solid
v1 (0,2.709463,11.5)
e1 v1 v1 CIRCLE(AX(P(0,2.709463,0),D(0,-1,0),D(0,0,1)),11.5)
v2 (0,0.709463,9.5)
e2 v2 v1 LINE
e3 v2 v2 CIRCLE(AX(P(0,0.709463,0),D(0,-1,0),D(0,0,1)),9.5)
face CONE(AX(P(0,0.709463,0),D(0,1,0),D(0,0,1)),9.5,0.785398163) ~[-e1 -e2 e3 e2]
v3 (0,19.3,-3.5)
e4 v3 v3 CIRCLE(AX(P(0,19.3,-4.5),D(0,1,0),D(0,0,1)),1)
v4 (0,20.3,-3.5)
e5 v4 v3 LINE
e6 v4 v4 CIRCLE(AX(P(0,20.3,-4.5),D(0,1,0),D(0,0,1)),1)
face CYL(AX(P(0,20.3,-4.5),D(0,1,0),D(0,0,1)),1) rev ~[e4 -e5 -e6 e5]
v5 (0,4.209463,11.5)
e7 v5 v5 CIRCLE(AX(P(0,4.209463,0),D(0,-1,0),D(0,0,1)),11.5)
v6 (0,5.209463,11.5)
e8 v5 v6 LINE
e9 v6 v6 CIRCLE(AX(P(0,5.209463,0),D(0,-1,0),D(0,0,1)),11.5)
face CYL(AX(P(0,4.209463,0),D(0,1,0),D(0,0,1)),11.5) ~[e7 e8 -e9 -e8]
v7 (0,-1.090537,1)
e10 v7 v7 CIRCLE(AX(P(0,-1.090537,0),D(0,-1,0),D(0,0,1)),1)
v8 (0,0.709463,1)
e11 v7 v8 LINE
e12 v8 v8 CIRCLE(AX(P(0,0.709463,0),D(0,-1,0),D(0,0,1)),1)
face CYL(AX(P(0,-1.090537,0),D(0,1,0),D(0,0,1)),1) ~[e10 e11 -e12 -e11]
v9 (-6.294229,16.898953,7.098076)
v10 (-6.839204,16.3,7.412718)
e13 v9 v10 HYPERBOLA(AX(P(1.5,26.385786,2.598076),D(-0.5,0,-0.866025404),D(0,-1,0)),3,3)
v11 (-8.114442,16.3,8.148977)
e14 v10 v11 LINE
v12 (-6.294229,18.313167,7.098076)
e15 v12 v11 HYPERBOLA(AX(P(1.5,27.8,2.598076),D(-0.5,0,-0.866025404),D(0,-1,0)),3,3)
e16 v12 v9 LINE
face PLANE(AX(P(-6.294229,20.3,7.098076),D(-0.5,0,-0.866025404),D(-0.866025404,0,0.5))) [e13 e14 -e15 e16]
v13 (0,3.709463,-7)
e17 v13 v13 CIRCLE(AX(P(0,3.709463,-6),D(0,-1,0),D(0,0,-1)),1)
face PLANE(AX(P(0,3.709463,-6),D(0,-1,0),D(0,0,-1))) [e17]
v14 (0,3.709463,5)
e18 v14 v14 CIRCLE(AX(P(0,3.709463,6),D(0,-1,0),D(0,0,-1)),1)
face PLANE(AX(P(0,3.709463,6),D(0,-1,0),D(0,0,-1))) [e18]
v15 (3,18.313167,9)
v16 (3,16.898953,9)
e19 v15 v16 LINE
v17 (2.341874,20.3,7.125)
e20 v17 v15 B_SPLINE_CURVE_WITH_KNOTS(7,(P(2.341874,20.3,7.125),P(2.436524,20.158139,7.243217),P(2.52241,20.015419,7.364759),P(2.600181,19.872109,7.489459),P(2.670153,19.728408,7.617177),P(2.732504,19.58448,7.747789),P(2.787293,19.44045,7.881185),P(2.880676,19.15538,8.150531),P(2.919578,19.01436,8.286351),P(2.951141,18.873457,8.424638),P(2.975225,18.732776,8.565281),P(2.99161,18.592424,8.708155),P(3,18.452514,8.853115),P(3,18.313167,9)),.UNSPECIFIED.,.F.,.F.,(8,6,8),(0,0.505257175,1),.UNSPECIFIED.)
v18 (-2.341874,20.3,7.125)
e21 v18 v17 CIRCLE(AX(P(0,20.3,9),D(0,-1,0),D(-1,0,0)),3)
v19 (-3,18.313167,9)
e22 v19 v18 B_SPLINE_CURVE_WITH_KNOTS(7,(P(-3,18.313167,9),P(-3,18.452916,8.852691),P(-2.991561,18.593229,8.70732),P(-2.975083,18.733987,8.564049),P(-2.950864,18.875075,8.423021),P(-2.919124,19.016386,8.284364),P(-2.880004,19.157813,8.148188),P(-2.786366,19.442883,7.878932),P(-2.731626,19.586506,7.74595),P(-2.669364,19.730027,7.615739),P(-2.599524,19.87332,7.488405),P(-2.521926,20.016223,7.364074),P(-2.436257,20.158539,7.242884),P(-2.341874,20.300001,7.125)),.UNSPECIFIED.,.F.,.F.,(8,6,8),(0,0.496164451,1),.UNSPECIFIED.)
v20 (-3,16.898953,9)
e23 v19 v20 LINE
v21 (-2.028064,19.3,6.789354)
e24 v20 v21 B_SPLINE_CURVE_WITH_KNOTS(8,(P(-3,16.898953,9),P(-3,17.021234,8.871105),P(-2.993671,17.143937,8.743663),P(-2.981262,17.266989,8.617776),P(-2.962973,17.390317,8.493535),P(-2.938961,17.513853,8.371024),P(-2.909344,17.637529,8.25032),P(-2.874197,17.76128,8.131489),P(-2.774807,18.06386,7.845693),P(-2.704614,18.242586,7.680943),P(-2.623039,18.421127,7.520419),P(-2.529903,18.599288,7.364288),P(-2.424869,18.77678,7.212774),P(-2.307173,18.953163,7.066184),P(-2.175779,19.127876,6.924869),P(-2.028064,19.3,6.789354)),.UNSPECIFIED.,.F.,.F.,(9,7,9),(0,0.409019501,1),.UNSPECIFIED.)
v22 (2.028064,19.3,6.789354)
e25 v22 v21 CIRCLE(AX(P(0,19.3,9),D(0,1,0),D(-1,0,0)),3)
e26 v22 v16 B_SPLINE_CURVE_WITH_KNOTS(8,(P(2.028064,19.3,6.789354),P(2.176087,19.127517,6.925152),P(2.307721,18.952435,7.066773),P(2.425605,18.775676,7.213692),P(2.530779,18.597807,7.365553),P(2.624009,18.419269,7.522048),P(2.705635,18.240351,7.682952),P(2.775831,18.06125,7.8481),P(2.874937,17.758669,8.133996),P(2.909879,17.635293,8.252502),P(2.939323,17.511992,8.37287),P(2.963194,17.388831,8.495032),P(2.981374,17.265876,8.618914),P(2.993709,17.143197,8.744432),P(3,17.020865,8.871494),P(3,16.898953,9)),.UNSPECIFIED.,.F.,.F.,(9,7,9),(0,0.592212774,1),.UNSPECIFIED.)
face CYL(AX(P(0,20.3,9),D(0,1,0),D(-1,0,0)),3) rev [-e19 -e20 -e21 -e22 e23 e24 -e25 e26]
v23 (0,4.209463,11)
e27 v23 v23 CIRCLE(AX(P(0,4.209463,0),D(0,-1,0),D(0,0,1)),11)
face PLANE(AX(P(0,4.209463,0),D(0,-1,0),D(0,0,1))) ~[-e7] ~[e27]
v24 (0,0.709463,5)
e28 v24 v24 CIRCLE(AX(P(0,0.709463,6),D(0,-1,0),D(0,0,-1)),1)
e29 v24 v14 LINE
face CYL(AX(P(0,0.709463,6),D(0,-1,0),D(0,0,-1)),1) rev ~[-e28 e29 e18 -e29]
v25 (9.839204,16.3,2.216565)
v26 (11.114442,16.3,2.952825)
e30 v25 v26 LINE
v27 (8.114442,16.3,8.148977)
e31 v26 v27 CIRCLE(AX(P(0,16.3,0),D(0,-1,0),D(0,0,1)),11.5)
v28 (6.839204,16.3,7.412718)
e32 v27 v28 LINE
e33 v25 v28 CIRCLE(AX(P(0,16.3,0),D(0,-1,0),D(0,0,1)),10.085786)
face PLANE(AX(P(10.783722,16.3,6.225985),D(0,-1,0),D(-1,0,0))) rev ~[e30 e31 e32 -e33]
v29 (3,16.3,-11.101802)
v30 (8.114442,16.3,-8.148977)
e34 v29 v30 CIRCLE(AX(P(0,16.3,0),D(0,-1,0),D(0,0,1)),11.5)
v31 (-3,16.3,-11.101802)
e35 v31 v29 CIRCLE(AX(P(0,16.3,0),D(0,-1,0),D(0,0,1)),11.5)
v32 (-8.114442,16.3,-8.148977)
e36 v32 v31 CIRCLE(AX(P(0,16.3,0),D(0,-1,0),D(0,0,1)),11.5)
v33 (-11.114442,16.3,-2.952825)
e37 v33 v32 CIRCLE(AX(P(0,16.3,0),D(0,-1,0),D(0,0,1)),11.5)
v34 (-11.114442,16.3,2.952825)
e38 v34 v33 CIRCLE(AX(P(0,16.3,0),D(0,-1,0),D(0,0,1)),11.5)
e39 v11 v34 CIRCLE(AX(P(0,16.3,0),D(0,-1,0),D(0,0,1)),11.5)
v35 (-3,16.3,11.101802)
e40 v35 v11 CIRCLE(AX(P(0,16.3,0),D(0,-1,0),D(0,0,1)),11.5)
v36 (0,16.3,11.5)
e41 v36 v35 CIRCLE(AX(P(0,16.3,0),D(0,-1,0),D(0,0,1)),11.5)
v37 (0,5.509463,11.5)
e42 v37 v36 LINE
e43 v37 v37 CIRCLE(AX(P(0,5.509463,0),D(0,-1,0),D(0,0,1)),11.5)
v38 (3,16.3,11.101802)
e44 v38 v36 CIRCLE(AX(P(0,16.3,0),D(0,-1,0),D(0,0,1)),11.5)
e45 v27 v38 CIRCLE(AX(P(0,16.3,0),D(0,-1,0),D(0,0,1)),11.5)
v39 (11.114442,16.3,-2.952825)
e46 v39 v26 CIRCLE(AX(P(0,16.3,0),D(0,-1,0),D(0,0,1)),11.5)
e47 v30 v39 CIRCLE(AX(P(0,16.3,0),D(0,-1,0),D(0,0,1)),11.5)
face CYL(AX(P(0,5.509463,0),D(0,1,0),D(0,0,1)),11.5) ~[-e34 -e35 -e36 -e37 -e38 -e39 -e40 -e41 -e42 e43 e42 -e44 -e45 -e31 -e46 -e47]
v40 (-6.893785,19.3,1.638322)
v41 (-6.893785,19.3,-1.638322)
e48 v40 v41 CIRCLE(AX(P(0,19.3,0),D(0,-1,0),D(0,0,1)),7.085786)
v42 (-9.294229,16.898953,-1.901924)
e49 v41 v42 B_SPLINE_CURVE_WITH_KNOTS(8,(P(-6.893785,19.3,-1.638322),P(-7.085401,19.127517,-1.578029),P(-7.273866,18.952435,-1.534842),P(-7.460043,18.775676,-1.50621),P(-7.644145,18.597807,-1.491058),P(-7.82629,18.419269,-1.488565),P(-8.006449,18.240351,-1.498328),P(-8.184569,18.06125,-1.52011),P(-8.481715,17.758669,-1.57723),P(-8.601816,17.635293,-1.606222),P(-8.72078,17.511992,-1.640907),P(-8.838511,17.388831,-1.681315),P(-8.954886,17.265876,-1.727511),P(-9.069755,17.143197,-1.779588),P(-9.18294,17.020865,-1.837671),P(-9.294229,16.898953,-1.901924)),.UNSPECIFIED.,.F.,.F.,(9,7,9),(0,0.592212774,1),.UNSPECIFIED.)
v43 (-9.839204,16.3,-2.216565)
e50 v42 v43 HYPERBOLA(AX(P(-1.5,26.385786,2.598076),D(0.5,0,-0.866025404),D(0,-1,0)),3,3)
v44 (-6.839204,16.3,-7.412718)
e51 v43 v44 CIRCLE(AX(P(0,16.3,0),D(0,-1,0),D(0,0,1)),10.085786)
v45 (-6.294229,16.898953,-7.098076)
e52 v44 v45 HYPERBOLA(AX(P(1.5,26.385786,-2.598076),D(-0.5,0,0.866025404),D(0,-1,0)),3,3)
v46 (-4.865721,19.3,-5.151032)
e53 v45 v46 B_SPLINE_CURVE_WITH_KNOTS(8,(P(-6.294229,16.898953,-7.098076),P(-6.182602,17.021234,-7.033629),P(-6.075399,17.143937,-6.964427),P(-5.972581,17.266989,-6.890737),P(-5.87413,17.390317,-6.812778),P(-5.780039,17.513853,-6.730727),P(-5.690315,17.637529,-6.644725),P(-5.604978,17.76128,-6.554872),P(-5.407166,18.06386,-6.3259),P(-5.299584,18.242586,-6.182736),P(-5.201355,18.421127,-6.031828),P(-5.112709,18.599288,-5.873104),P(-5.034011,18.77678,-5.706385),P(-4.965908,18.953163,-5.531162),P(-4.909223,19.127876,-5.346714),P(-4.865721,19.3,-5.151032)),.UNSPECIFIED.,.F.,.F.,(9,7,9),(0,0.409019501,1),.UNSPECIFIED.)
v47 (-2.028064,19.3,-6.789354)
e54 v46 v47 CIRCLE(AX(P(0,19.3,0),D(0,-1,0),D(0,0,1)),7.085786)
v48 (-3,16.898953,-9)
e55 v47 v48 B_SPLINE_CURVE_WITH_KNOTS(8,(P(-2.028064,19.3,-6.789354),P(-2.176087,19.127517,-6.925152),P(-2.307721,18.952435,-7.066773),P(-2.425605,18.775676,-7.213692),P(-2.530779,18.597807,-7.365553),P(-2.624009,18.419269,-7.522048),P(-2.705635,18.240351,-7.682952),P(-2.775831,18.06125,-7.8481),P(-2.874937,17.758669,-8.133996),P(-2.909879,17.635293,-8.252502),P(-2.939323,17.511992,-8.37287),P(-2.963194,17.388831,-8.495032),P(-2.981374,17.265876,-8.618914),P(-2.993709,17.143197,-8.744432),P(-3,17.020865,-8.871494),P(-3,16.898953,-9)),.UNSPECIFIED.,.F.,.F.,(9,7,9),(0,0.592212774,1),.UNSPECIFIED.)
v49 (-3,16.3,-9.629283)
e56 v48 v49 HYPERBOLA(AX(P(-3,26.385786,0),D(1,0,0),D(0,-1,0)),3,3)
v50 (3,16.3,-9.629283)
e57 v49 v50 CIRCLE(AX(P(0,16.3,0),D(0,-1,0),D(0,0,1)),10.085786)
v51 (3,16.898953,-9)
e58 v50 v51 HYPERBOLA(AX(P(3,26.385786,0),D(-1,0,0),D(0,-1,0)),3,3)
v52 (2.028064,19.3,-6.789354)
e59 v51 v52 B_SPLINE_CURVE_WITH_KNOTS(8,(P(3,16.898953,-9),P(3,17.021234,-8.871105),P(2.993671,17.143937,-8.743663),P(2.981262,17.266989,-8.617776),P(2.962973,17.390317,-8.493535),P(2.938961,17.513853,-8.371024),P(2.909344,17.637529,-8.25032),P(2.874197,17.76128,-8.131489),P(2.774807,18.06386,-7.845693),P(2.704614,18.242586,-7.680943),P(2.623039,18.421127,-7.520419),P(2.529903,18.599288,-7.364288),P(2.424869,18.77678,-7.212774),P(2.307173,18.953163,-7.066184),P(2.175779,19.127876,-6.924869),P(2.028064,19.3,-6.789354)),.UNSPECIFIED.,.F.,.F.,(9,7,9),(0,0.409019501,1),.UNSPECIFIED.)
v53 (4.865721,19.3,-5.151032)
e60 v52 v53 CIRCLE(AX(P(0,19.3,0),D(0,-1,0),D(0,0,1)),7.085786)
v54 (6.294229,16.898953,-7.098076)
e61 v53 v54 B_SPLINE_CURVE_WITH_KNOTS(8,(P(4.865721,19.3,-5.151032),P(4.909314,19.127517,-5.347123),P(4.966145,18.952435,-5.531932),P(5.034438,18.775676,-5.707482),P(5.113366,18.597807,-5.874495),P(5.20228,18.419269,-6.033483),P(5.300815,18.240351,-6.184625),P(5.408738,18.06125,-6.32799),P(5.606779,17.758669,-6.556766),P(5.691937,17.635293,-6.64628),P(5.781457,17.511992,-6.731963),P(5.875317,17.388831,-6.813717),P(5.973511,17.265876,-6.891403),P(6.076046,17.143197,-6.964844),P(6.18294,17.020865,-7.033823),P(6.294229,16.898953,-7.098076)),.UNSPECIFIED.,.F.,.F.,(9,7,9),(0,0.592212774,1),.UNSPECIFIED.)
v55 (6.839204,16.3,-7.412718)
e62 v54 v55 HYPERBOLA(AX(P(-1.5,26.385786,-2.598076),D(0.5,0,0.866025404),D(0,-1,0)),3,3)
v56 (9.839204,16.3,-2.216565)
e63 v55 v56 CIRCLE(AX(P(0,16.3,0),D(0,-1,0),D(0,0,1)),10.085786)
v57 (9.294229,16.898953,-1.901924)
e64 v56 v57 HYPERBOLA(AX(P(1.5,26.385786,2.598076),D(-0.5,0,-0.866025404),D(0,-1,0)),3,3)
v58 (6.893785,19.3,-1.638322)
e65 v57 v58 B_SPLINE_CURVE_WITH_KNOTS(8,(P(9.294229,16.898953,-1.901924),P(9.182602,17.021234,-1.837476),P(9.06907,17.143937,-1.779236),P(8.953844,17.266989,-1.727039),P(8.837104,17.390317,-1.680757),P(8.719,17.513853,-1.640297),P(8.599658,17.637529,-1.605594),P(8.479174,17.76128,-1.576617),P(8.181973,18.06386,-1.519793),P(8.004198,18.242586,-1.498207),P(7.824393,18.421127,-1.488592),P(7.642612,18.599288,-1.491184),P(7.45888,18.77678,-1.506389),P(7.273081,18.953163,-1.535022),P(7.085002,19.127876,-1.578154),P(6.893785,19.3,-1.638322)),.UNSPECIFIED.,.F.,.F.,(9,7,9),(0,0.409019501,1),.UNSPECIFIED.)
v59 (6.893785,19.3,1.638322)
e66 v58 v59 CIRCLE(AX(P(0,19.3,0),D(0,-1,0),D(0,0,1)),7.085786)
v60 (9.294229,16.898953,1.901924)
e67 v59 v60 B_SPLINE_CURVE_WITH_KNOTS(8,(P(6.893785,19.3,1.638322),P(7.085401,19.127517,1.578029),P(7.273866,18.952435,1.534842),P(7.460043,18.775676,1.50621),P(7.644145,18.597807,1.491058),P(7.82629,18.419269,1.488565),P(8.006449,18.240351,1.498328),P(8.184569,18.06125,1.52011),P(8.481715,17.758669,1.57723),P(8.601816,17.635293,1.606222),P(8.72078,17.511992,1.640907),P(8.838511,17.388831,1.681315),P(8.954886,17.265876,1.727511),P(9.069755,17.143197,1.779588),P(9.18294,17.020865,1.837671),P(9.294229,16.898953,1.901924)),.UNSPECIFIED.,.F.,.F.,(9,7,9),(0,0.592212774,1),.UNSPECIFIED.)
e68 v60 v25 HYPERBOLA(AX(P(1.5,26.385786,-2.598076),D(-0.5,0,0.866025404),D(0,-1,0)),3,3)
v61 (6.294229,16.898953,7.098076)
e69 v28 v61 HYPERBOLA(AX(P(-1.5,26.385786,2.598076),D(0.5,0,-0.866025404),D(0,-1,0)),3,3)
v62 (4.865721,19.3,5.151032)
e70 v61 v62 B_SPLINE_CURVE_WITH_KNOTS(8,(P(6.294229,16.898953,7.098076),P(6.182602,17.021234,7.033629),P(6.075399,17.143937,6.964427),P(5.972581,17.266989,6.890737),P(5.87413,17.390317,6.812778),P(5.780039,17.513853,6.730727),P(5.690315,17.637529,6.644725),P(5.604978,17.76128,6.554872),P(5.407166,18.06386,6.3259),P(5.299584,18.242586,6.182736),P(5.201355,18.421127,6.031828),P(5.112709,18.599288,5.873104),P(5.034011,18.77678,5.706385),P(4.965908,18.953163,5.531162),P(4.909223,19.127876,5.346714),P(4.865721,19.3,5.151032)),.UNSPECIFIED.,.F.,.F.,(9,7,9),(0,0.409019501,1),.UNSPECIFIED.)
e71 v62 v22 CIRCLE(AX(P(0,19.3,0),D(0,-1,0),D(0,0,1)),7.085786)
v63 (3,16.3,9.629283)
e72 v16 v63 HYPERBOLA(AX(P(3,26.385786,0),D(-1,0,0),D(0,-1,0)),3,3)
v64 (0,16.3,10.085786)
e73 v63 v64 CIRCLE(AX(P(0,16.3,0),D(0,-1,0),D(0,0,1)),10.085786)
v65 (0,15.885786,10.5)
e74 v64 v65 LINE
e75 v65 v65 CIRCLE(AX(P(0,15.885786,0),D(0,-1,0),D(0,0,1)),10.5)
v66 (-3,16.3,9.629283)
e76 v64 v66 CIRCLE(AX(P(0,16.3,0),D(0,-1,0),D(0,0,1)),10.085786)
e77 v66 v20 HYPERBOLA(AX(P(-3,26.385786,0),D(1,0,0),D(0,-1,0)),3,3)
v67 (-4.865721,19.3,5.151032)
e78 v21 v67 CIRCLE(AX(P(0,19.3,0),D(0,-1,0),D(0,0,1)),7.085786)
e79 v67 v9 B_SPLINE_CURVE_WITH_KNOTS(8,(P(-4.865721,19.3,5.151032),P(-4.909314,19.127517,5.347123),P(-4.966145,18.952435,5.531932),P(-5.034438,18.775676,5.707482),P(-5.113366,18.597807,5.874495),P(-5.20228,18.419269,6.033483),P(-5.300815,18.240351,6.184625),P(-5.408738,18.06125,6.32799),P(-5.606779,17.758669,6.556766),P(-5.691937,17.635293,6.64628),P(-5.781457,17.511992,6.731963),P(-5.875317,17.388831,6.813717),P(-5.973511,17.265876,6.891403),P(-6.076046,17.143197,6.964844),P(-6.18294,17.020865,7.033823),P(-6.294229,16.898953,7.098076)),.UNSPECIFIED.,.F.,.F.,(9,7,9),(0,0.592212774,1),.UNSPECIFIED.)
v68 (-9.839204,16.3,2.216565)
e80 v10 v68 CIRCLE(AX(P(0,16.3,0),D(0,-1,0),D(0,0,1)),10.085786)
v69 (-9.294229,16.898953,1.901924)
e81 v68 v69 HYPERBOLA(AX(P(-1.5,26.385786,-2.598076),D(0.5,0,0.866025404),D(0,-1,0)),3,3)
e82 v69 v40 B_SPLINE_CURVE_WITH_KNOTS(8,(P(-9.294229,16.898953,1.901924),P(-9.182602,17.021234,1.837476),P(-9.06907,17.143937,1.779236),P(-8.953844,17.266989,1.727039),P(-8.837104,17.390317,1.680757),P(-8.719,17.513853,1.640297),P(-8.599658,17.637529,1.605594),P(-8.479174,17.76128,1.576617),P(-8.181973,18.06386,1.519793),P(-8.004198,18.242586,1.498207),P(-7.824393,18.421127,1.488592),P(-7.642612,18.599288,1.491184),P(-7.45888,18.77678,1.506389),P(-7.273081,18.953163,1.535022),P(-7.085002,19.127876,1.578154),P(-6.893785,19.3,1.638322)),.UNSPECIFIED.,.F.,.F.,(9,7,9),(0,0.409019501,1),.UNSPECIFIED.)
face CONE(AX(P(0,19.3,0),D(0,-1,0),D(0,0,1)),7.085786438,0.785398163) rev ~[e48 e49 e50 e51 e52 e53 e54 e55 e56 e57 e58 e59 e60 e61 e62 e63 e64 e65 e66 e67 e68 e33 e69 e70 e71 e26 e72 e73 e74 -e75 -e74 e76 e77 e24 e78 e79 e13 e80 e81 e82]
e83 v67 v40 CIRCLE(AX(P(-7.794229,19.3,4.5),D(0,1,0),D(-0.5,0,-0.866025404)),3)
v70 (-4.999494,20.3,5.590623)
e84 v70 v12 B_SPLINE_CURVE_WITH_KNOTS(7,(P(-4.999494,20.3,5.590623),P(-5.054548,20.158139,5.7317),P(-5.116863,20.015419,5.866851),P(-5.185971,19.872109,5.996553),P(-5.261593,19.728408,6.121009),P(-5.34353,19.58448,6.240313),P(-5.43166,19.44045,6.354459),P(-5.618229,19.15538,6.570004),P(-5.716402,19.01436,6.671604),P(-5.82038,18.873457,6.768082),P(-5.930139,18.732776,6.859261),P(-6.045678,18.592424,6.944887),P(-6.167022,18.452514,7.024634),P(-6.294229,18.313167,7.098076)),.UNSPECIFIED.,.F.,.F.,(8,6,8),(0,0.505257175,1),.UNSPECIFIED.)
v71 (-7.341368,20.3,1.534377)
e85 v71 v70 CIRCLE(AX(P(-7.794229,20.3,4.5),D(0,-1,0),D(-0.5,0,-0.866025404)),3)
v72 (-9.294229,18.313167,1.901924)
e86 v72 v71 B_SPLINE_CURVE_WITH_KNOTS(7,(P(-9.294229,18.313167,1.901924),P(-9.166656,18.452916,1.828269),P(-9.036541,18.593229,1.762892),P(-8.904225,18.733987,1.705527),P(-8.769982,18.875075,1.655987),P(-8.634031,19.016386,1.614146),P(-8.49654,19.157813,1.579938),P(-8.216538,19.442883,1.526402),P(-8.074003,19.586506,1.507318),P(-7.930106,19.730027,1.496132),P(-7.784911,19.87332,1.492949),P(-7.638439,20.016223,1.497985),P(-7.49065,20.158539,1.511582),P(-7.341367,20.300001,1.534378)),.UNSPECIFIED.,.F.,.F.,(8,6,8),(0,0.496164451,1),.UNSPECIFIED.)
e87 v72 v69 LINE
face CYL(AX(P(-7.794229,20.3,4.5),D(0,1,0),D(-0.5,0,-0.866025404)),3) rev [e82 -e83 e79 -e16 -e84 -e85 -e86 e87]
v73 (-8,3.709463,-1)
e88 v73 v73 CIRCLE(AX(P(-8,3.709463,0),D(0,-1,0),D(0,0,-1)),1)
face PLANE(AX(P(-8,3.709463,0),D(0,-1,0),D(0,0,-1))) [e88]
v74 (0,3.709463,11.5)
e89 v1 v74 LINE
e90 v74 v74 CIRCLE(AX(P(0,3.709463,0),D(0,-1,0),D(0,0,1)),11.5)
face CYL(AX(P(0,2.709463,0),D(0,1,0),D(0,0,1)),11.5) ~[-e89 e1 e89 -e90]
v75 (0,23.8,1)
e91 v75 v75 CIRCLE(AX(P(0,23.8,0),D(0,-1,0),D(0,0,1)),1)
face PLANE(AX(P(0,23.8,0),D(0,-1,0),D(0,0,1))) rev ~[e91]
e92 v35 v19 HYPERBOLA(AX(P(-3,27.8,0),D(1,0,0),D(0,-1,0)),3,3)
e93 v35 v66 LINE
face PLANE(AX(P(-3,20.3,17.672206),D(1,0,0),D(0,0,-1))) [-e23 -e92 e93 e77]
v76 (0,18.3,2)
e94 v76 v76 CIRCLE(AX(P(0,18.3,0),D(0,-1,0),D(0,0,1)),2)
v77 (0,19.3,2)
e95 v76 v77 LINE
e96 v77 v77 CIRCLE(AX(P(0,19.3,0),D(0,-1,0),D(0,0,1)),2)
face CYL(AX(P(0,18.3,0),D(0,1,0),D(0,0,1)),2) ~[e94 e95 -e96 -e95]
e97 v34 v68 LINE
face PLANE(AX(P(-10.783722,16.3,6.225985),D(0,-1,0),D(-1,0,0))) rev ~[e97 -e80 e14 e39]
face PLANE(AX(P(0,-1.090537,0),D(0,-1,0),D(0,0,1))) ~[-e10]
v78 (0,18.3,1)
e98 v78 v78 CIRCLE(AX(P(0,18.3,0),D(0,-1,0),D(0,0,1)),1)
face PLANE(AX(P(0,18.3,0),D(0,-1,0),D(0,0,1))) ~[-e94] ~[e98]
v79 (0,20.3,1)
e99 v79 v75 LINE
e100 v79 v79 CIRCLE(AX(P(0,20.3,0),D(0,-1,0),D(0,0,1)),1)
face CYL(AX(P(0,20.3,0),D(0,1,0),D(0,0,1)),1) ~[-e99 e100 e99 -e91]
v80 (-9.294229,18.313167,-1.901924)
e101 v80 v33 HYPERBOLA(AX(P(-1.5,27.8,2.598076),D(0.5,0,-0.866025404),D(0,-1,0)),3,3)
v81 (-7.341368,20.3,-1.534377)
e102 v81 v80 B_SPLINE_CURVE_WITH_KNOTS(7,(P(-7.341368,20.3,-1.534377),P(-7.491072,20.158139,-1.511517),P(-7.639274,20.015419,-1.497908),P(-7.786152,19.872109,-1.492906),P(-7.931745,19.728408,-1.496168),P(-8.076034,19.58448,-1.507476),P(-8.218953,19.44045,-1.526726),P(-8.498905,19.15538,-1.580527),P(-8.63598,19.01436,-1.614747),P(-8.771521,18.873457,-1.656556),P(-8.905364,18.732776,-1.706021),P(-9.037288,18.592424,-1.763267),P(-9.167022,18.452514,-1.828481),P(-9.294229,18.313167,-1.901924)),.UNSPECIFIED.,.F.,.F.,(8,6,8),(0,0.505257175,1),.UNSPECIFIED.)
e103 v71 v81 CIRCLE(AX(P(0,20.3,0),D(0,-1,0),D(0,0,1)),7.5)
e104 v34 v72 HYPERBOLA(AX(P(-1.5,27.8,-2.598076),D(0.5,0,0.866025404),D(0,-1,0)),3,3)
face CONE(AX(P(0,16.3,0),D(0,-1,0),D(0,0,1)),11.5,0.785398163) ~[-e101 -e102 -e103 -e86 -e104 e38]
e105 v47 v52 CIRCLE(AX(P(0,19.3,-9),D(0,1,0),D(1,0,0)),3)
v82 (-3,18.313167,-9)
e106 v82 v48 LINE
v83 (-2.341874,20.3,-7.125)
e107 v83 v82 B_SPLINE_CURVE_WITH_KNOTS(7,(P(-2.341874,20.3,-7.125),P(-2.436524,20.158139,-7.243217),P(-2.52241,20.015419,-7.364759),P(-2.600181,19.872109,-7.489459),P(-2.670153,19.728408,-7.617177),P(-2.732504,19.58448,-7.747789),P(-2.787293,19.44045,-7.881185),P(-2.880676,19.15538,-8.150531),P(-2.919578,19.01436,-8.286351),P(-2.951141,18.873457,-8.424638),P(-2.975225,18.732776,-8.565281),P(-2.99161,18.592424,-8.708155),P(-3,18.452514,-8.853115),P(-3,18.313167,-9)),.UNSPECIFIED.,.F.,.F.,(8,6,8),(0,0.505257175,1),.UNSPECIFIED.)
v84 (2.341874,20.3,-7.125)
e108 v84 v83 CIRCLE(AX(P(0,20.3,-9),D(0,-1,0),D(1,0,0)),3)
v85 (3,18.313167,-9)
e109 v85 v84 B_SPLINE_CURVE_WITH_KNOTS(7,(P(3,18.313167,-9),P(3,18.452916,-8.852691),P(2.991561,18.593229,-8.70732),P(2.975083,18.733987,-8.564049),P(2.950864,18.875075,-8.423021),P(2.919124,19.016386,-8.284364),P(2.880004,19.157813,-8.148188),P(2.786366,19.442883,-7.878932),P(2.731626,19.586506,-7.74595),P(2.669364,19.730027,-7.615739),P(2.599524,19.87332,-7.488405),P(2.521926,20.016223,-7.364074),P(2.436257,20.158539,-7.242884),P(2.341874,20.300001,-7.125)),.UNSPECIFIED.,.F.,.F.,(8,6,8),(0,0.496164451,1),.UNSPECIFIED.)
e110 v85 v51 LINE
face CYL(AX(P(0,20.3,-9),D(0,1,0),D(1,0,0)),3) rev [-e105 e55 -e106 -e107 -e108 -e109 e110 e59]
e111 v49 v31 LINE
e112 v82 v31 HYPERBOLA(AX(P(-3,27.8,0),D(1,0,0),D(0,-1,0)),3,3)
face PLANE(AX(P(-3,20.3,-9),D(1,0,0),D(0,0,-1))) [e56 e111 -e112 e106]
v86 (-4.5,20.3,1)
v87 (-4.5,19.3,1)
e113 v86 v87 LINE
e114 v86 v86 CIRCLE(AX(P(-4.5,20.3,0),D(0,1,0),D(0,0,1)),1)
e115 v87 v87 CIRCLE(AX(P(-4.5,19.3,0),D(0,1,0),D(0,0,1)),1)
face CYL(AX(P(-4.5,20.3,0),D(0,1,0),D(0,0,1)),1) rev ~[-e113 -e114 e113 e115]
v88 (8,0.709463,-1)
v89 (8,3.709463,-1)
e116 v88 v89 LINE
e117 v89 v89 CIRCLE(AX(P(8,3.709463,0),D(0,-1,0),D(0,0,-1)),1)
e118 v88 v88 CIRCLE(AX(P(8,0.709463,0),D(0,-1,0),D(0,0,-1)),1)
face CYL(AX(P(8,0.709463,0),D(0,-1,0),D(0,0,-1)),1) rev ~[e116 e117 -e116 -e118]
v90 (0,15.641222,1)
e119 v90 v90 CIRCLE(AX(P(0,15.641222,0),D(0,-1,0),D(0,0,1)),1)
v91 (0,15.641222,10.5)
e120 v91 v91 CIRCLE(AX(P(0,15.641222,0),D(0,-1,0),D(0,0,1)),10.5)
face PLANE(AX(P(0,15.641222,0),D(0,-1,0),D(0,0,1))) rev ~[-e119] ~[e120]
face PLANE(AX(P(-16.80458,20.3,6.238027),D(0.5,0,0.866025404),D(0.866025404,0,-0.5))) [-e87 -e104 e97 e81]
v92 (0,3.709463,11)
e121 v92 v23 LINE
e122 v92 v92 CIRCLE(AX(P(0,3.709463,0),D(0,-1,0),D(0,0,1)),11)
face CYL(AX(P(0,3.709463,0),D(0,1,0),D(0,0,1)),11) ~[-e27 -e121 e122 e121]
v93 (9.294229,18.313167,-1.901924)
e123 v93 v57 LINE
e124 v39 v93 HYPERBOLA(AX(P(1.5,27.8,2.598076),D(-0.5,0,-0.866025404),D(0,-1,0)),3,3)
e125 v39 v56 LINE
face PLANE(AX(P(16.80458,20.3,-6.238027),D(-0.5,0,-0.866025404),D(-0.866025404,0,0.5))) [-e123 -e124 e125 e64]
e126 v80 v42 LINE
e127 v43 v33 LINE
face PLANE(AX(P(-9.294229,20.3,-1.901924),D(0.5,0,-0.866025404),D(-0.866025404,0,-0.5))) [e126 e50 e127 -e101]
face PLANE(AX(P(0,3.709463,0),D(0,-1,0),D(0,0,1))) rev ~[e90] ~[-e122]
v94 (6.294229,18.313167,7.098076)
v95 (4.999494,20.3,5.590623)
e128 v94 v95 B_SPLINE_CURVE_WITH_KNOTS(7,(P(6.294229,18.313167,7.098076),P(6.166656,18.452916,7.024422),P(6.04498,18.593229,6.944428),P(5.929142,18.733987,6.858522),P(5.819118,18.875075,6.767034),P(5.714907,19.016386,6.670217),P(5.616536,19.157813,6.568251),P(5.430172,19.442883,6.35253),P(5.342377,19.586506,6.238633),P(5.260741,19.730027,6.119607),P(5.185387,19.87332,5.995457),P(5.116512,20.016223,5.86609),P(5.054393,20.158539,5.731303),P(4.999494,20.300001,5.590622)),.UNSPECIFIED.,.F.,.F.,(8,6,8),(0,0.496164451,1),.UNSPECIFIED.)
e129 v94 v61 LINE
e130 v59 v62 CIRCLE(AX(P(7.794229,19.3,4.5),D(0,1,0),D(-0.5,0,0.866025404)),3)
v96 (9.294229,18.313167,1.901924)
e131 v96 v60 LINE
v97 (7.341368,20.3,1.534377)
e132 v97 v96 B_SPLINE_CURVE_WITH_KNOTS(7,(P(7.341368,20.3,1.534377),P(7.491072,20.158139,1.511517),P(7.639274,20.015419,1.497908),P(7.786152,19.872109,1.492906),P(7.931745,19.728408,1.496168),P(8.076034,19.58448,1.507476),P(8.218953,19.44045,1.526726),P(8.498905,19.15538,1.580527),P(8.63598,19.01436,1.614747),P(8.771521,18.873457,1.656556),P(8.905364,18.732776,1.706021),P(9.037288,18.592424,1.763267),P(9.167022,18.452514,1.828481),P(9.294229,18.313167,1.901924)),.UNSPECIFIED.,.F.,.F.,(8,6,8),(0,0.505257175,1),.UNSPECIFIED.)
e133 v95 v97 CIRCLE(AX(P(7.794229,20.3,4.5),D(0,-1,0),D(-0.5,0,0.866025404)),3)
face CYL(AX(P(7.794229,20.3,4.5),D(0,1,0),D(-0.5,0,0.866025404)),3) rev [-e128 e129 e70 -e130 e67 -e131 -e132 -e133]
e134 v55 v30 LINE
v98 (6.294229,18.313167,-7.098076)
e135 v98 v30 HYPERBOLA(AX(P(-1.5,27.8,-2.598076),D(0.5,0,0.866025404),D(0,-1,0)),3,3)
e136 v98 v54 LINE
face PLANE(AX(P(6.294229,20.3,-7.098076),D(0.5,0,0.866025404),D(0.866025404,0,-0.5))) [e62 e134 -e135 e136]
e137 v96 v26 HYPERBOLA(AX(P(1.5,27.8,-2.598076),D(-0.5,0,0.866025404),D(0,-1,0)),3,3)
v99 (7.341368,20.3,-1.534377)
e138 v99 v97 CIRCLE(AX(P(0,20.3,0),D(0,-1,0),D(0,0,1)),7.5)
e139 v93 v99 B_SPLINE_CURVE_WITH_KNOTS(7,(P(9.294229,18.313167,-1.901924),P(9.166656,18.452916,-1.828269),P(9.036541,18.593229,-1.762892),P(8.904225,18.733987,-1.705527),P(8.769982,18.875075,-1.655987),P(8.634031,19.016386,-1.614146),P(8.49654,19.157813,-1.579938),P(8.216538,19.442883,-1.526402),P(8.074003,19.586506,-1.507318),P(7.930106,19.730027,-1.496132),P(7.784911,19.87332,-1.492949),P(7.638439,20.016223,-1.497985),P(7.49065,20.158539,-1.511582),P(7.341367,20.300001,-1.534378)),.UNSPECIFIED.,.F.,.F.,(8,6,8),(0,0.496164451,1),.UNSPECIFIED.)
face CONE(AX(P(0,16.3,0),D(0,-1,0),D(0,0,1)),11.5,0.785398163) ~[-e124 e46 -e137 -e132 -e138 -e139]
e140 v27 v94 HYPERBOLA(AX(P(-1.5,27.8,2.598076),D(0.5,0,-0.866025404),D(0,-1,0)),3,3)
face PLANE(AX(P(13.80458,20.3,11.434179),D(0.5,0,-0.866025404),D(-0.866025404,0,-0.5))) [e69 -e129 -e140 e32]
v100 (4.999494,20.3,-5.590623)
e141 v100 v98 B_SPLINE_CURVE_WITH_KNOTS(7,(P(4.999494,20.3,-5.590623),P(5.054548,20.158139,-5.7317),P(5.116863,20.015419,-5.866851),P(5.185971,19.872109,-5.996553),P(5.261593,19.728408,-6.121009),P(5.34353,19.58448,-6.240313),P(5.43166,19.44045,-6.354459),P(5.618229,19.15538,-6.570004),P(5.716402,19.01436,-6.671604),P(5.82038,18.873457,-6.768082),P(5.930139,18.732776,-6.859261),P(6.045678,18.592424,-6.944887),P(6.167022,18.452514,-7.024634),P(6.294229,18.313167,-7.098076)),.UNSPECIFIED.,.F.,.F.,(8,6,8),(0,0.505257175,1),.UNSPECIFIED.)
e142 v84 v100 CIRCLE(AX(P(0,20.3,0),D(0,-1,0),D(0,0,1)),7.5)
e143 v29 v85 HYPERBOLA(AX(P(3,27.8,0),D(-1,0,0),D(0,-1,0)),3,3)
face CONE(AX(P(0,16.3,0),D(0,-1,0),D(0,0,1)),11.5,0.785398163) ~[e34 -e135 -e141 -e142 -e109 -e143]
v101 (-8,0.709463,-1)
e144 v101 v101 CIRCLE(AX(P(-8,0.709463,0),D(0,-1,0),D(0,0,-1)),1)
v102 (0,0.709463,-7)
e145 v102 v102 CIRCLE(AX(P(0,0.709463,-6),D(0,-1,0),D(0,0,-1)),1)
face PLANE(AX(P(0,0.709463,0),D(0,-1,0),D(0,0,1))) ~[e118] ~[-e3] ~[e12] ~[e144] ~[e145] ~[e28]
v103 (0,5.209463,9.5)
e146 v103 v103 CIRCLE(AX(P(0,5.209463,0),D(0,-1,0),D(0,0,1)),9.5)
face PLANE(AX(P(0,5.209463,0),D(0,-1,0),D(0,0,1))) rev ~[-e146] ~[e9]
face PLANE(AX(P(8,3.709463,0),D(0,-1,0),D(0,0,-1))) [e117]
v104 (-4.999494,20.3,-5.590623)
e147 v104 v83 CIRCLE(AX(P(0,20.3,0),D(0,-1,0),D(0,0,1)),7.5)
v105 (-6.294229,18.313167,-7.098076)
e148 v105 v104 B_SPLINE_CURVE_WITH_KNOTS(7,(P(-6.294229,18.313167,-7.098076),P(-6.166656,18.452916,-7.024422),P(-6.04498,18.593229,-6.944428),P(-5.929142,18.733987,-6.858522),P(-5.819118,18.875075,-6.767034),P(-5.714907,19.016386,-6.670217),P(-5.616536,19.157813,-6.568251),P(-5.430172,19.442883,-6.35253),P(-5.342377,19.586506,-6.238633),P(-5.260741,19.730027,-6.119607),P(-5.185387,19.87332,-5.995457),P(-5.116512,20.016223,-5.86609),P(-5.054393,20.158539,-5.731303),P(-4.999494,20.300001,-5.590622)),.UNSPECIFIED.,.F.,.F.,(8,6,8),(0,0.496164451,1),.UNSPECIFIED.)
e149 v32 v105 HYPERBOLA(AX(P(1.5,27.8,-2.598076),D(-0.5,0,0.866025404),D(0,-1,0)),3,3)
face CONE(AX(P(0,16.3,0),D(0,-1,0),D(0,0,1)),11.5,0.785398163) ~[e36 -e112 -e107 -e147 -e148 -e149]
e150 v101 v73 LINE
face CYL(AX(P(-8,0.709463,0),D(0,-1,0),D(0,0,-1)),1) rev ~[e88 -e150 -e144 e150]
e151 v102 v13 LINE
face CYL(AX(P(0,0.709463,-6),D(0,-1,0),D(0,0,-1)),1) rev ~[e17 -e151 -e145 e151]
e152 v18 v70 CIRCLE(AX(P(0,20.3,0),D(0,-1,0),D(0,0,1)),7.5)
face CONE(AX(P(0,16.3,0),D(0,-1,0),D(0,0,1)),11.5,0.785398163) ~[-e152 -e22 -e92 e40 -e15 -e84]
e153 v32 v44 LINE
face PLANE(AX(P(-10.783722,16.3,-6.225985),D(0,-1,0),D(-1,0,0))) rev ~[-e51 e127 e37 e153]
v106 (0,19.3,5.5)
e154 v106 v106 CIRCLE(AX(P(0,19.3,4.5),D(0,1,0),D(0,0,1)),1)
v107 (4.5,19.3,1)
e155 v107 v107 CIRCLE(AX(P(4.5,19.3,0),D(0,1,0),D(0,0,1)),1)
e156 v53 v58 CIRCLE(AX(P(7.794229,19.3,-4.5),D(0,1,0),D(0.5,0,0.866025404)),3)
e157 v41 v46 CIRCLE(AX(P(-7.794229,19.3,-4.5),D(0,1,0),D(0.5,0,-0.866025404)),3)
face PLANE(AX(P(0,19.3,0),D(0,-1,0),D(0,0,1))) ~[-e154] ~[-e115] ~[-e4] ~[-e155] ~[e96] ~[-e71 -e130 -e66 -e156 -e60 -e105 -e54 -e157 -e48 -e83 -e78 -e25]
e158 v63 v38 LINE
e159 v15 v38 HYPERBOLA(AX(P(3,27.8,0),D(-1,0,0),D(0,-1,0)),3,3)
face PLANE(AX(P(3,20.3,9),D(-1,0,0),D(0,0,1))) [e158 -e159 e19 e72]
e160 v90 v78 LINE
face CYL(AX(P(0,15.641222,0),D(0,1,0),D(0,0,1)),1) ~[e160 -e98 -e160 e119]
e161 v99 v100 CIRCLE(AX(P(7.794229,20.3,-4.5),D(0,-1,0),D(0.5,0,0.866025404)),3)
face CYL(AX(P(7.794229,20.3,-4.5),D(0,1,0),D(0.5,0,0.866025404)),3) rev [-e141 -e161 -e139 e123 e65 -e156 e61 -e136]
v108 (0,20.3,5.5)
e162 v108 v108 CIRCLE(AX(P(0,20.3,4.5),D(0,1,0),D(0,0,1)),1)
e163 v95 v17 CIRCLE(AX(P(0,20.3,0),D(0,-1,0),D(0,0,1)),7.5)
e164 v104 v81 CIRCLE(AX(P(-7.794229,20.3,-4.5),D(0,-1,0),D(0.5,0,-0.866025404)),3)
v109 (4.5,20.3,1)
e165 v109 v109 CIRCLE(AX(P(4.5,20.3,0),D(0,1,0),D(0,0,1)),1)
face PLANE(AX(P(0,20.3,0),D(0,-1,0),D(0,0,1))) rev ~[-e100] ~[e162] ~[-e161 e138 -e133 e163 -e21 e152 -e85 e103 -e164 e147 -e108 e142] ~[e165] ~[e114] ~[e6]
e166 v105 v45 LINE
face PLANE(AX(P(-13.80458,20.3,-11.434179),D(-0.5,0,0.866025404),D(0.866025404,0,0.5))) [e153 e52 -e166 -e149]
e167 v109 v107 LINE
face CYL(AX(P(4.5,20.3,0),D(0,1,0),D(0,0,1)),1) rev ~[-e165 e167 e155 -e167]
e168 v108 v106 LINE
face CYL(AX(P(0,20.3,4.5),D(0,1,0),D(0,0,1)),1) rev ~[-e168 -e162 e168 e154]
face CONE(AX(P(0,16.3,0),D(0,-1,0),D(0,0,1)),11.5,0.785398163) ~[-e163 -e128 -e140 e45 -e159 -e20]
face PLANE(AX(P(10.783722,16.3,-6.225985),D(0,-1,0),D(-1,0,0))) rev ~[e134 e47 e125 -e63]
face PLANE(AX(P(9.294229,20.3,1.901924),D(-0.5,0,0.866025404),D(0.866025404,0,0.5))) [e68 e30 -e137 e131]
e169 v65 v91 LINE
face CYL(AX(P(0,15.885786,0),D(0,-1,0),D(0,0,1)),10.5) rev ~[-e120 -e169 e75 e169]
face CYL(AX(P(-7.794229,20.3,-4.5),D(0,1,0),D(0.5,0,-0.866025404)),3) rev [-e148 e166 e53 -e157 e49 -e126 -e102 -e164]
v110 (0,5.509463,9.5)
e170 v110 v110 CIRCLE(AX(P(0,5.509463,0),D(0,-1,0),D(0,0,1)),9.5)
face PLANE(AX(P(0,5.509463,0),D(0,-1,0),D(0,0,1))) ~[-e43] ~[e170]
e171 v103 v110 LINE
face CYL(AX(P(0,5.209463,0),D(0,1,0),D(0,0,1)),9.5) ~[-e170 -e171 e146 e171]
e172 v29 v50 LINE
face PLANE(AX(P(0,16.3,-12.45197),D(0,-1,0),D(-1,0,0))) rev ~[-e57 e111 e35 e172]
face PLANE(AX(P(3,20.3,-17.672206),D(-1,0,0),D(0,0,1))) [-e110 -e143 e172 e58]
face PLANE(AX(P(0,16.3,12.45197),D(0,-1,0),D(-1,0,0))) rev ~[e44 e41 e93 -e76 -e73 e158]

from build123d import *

# Parameters (mm, degrees)
SKETCH3_R          = 1
CUT_EXTRUDE1_DEPTH = 4
SKETCH4_R          = 1
CUT_EXTRUDE2_DEPTH = 3


with BuildPart() as part:
    # Sketch2 → Revolve1 (revolve)
    with BuildSketch(Plane.XY, mode=Mode.PRIVATE) as revolve1_sk:
        Polygon((0, 23.8), (0, 0), (0, -1.090537306), (1, -1.090537306), (1, 0.709462694), (9.5, 0.709462694), (11.5, 2.709462694), (11.5, 3.709462694), (11, 3.709462694), (11, 4.209462694), (11.5, 4.209462694), (11.5, 5.209462694), (9.5, 5.209462694), (9.5, 5.509462694), (11.5, 5.509462694), (11.5, 16.3), (7.5, 20.3), (1, 20.3), (1, 23.8), align=None)
        Polygon((2, 19.3), (7.085786438, 19.3), (10.5, 15.885786438), (10.5, 15.641222404), (1, 15.641222404), (1, 18.3), (2, 18.3), align=None, mode=Mode.SUBTRACT)
    revolve(revolve1_sk.sketch.rotate(Axis((0, 23.8, 0), (0, -1, 0)), 90), axis=Axis((0, 23.8, 0), (0, -1, 0)))

    # Sketch3 → Cut-Extrude1 (cut)
    with BuildSketch(Plane(origin=(0, 20.3, 0), x_dir=(1, 0, 0), z_dir=(0, 1, 0))):
        with Locations(Location((0, -4.5, 0), (0, 0, 270))):
            Circle(SKETCH3_R)
        with Locations(Location((-4.5, 0, 0), (0, 0, 270))):
            Circle(SKETCH3_R)
        with Locations(Location((0, 4.5, 0), (0, 0, 270))):
            Circle(SKETCH3_R)
        with Locations(Location((4.5, 0, 0), (0, 0, 270))):
            Circle(SKETCH3_R)
        with BuildLine():
            Line((-3, 9), (-3, 17.672206418))
            Line((-3, 17.672206418), (3, 17.672206418))
            Line((3, 17.672206418), (3, 9))
            ThreePointArc((3, 9), (0, 6), (-3, 9))
        make_face()
        with BuildLine():
            Line((16.804579699, 6.238026998), (9.294228634, 1.901923789))
            ThreePointArc((9.294228634, 1.901923789), (5.196152423, 3), (6.294228634, 7.098076211))
            Line((6.294228634, 7.098076211), (13.804579699, 11.434179421))
            Line((13.804579699, 11.434179421), (16.804579699, 6.238026998))
        make_face()
        with BuildLine():
            Line((13.804579699, -11.434179421), (6.294228634, -7.098076211))
            ThreePointArc((6.294228634, -7.098076211), (5.196152423, -3), (9.294228634, -1.901923789))
            Line((9.294228634, -1.901923789), (16.804579699, -6.238026998))
            Line((16.804579699, -6.238026998), (13.804579699, -11.434179421))
        make_face()
        with BuildLine():
            Line((-3, -17.672206418), (-3, -9))
            ThreePointArc((-3, -9), (0, -6), (3, -9))
            Line((3, -9), (3, -17.672206418))
            Line((3, -17.672206418), (-3, -17.672206418))
        make_face()
        with BuildLine():
            Line((-16.804579699, -6.238026998), (-9.294228634, -1.901923789))
            ThreePointArc((-9.294228634, -1.901923789), (-5.196152423, -3), (-6.294228634, -7.098076211))
            Line((-6.294228634, -7.098076211), (-13.804579699, -11.434179421))
            Line((-13.804579699, -11.434179421), (-16.804579699, -6.238026998))
        make_face()
        with BuildLine():
            Line((-13.804579699, 11.434179421), (-6.294228634, 7.098076211))
            ThreePointArc((-6.294228634, 7.098076211), (-5.196152423, 3), (-9.294228634, 1.901923789))
            Line((-9.294228634, 1.901923789), (-16.804579699, 6.238026998))
            Line((-16.804579699, 6.238026998), (-13.804579699, 11.434179421))
        make_face()
    extrude(amount=-CUT_EXTRUDE1_DEPTH, mode=Mode.SUBTRACT)

    # Sketch4 → Cut-Extrude2 (cut)
    with BuildSketch(Plane.XZ.offset(-0.709462694)):
        with Locations(Location((0, 6, 0), (0, 0, 270))):
            Circle(SKETCH4_R)
        with Locations(Location((8, 0, 0), (0, 0, 270))):
            Circle(SKETCH4_R)
        with Locations(Location((0, -6, 0), (0, 0, 270))):
            Circle(SKETCH4_R)
        with Locations(Location((-8, 0, 0), (0, 0, 270))):
            Circle(SKETCH4_R)
    extrude(amount=-CUT_EXTRUDE2_DEPTH, mode=Mode.SUBTRACT)


solid = part.part
